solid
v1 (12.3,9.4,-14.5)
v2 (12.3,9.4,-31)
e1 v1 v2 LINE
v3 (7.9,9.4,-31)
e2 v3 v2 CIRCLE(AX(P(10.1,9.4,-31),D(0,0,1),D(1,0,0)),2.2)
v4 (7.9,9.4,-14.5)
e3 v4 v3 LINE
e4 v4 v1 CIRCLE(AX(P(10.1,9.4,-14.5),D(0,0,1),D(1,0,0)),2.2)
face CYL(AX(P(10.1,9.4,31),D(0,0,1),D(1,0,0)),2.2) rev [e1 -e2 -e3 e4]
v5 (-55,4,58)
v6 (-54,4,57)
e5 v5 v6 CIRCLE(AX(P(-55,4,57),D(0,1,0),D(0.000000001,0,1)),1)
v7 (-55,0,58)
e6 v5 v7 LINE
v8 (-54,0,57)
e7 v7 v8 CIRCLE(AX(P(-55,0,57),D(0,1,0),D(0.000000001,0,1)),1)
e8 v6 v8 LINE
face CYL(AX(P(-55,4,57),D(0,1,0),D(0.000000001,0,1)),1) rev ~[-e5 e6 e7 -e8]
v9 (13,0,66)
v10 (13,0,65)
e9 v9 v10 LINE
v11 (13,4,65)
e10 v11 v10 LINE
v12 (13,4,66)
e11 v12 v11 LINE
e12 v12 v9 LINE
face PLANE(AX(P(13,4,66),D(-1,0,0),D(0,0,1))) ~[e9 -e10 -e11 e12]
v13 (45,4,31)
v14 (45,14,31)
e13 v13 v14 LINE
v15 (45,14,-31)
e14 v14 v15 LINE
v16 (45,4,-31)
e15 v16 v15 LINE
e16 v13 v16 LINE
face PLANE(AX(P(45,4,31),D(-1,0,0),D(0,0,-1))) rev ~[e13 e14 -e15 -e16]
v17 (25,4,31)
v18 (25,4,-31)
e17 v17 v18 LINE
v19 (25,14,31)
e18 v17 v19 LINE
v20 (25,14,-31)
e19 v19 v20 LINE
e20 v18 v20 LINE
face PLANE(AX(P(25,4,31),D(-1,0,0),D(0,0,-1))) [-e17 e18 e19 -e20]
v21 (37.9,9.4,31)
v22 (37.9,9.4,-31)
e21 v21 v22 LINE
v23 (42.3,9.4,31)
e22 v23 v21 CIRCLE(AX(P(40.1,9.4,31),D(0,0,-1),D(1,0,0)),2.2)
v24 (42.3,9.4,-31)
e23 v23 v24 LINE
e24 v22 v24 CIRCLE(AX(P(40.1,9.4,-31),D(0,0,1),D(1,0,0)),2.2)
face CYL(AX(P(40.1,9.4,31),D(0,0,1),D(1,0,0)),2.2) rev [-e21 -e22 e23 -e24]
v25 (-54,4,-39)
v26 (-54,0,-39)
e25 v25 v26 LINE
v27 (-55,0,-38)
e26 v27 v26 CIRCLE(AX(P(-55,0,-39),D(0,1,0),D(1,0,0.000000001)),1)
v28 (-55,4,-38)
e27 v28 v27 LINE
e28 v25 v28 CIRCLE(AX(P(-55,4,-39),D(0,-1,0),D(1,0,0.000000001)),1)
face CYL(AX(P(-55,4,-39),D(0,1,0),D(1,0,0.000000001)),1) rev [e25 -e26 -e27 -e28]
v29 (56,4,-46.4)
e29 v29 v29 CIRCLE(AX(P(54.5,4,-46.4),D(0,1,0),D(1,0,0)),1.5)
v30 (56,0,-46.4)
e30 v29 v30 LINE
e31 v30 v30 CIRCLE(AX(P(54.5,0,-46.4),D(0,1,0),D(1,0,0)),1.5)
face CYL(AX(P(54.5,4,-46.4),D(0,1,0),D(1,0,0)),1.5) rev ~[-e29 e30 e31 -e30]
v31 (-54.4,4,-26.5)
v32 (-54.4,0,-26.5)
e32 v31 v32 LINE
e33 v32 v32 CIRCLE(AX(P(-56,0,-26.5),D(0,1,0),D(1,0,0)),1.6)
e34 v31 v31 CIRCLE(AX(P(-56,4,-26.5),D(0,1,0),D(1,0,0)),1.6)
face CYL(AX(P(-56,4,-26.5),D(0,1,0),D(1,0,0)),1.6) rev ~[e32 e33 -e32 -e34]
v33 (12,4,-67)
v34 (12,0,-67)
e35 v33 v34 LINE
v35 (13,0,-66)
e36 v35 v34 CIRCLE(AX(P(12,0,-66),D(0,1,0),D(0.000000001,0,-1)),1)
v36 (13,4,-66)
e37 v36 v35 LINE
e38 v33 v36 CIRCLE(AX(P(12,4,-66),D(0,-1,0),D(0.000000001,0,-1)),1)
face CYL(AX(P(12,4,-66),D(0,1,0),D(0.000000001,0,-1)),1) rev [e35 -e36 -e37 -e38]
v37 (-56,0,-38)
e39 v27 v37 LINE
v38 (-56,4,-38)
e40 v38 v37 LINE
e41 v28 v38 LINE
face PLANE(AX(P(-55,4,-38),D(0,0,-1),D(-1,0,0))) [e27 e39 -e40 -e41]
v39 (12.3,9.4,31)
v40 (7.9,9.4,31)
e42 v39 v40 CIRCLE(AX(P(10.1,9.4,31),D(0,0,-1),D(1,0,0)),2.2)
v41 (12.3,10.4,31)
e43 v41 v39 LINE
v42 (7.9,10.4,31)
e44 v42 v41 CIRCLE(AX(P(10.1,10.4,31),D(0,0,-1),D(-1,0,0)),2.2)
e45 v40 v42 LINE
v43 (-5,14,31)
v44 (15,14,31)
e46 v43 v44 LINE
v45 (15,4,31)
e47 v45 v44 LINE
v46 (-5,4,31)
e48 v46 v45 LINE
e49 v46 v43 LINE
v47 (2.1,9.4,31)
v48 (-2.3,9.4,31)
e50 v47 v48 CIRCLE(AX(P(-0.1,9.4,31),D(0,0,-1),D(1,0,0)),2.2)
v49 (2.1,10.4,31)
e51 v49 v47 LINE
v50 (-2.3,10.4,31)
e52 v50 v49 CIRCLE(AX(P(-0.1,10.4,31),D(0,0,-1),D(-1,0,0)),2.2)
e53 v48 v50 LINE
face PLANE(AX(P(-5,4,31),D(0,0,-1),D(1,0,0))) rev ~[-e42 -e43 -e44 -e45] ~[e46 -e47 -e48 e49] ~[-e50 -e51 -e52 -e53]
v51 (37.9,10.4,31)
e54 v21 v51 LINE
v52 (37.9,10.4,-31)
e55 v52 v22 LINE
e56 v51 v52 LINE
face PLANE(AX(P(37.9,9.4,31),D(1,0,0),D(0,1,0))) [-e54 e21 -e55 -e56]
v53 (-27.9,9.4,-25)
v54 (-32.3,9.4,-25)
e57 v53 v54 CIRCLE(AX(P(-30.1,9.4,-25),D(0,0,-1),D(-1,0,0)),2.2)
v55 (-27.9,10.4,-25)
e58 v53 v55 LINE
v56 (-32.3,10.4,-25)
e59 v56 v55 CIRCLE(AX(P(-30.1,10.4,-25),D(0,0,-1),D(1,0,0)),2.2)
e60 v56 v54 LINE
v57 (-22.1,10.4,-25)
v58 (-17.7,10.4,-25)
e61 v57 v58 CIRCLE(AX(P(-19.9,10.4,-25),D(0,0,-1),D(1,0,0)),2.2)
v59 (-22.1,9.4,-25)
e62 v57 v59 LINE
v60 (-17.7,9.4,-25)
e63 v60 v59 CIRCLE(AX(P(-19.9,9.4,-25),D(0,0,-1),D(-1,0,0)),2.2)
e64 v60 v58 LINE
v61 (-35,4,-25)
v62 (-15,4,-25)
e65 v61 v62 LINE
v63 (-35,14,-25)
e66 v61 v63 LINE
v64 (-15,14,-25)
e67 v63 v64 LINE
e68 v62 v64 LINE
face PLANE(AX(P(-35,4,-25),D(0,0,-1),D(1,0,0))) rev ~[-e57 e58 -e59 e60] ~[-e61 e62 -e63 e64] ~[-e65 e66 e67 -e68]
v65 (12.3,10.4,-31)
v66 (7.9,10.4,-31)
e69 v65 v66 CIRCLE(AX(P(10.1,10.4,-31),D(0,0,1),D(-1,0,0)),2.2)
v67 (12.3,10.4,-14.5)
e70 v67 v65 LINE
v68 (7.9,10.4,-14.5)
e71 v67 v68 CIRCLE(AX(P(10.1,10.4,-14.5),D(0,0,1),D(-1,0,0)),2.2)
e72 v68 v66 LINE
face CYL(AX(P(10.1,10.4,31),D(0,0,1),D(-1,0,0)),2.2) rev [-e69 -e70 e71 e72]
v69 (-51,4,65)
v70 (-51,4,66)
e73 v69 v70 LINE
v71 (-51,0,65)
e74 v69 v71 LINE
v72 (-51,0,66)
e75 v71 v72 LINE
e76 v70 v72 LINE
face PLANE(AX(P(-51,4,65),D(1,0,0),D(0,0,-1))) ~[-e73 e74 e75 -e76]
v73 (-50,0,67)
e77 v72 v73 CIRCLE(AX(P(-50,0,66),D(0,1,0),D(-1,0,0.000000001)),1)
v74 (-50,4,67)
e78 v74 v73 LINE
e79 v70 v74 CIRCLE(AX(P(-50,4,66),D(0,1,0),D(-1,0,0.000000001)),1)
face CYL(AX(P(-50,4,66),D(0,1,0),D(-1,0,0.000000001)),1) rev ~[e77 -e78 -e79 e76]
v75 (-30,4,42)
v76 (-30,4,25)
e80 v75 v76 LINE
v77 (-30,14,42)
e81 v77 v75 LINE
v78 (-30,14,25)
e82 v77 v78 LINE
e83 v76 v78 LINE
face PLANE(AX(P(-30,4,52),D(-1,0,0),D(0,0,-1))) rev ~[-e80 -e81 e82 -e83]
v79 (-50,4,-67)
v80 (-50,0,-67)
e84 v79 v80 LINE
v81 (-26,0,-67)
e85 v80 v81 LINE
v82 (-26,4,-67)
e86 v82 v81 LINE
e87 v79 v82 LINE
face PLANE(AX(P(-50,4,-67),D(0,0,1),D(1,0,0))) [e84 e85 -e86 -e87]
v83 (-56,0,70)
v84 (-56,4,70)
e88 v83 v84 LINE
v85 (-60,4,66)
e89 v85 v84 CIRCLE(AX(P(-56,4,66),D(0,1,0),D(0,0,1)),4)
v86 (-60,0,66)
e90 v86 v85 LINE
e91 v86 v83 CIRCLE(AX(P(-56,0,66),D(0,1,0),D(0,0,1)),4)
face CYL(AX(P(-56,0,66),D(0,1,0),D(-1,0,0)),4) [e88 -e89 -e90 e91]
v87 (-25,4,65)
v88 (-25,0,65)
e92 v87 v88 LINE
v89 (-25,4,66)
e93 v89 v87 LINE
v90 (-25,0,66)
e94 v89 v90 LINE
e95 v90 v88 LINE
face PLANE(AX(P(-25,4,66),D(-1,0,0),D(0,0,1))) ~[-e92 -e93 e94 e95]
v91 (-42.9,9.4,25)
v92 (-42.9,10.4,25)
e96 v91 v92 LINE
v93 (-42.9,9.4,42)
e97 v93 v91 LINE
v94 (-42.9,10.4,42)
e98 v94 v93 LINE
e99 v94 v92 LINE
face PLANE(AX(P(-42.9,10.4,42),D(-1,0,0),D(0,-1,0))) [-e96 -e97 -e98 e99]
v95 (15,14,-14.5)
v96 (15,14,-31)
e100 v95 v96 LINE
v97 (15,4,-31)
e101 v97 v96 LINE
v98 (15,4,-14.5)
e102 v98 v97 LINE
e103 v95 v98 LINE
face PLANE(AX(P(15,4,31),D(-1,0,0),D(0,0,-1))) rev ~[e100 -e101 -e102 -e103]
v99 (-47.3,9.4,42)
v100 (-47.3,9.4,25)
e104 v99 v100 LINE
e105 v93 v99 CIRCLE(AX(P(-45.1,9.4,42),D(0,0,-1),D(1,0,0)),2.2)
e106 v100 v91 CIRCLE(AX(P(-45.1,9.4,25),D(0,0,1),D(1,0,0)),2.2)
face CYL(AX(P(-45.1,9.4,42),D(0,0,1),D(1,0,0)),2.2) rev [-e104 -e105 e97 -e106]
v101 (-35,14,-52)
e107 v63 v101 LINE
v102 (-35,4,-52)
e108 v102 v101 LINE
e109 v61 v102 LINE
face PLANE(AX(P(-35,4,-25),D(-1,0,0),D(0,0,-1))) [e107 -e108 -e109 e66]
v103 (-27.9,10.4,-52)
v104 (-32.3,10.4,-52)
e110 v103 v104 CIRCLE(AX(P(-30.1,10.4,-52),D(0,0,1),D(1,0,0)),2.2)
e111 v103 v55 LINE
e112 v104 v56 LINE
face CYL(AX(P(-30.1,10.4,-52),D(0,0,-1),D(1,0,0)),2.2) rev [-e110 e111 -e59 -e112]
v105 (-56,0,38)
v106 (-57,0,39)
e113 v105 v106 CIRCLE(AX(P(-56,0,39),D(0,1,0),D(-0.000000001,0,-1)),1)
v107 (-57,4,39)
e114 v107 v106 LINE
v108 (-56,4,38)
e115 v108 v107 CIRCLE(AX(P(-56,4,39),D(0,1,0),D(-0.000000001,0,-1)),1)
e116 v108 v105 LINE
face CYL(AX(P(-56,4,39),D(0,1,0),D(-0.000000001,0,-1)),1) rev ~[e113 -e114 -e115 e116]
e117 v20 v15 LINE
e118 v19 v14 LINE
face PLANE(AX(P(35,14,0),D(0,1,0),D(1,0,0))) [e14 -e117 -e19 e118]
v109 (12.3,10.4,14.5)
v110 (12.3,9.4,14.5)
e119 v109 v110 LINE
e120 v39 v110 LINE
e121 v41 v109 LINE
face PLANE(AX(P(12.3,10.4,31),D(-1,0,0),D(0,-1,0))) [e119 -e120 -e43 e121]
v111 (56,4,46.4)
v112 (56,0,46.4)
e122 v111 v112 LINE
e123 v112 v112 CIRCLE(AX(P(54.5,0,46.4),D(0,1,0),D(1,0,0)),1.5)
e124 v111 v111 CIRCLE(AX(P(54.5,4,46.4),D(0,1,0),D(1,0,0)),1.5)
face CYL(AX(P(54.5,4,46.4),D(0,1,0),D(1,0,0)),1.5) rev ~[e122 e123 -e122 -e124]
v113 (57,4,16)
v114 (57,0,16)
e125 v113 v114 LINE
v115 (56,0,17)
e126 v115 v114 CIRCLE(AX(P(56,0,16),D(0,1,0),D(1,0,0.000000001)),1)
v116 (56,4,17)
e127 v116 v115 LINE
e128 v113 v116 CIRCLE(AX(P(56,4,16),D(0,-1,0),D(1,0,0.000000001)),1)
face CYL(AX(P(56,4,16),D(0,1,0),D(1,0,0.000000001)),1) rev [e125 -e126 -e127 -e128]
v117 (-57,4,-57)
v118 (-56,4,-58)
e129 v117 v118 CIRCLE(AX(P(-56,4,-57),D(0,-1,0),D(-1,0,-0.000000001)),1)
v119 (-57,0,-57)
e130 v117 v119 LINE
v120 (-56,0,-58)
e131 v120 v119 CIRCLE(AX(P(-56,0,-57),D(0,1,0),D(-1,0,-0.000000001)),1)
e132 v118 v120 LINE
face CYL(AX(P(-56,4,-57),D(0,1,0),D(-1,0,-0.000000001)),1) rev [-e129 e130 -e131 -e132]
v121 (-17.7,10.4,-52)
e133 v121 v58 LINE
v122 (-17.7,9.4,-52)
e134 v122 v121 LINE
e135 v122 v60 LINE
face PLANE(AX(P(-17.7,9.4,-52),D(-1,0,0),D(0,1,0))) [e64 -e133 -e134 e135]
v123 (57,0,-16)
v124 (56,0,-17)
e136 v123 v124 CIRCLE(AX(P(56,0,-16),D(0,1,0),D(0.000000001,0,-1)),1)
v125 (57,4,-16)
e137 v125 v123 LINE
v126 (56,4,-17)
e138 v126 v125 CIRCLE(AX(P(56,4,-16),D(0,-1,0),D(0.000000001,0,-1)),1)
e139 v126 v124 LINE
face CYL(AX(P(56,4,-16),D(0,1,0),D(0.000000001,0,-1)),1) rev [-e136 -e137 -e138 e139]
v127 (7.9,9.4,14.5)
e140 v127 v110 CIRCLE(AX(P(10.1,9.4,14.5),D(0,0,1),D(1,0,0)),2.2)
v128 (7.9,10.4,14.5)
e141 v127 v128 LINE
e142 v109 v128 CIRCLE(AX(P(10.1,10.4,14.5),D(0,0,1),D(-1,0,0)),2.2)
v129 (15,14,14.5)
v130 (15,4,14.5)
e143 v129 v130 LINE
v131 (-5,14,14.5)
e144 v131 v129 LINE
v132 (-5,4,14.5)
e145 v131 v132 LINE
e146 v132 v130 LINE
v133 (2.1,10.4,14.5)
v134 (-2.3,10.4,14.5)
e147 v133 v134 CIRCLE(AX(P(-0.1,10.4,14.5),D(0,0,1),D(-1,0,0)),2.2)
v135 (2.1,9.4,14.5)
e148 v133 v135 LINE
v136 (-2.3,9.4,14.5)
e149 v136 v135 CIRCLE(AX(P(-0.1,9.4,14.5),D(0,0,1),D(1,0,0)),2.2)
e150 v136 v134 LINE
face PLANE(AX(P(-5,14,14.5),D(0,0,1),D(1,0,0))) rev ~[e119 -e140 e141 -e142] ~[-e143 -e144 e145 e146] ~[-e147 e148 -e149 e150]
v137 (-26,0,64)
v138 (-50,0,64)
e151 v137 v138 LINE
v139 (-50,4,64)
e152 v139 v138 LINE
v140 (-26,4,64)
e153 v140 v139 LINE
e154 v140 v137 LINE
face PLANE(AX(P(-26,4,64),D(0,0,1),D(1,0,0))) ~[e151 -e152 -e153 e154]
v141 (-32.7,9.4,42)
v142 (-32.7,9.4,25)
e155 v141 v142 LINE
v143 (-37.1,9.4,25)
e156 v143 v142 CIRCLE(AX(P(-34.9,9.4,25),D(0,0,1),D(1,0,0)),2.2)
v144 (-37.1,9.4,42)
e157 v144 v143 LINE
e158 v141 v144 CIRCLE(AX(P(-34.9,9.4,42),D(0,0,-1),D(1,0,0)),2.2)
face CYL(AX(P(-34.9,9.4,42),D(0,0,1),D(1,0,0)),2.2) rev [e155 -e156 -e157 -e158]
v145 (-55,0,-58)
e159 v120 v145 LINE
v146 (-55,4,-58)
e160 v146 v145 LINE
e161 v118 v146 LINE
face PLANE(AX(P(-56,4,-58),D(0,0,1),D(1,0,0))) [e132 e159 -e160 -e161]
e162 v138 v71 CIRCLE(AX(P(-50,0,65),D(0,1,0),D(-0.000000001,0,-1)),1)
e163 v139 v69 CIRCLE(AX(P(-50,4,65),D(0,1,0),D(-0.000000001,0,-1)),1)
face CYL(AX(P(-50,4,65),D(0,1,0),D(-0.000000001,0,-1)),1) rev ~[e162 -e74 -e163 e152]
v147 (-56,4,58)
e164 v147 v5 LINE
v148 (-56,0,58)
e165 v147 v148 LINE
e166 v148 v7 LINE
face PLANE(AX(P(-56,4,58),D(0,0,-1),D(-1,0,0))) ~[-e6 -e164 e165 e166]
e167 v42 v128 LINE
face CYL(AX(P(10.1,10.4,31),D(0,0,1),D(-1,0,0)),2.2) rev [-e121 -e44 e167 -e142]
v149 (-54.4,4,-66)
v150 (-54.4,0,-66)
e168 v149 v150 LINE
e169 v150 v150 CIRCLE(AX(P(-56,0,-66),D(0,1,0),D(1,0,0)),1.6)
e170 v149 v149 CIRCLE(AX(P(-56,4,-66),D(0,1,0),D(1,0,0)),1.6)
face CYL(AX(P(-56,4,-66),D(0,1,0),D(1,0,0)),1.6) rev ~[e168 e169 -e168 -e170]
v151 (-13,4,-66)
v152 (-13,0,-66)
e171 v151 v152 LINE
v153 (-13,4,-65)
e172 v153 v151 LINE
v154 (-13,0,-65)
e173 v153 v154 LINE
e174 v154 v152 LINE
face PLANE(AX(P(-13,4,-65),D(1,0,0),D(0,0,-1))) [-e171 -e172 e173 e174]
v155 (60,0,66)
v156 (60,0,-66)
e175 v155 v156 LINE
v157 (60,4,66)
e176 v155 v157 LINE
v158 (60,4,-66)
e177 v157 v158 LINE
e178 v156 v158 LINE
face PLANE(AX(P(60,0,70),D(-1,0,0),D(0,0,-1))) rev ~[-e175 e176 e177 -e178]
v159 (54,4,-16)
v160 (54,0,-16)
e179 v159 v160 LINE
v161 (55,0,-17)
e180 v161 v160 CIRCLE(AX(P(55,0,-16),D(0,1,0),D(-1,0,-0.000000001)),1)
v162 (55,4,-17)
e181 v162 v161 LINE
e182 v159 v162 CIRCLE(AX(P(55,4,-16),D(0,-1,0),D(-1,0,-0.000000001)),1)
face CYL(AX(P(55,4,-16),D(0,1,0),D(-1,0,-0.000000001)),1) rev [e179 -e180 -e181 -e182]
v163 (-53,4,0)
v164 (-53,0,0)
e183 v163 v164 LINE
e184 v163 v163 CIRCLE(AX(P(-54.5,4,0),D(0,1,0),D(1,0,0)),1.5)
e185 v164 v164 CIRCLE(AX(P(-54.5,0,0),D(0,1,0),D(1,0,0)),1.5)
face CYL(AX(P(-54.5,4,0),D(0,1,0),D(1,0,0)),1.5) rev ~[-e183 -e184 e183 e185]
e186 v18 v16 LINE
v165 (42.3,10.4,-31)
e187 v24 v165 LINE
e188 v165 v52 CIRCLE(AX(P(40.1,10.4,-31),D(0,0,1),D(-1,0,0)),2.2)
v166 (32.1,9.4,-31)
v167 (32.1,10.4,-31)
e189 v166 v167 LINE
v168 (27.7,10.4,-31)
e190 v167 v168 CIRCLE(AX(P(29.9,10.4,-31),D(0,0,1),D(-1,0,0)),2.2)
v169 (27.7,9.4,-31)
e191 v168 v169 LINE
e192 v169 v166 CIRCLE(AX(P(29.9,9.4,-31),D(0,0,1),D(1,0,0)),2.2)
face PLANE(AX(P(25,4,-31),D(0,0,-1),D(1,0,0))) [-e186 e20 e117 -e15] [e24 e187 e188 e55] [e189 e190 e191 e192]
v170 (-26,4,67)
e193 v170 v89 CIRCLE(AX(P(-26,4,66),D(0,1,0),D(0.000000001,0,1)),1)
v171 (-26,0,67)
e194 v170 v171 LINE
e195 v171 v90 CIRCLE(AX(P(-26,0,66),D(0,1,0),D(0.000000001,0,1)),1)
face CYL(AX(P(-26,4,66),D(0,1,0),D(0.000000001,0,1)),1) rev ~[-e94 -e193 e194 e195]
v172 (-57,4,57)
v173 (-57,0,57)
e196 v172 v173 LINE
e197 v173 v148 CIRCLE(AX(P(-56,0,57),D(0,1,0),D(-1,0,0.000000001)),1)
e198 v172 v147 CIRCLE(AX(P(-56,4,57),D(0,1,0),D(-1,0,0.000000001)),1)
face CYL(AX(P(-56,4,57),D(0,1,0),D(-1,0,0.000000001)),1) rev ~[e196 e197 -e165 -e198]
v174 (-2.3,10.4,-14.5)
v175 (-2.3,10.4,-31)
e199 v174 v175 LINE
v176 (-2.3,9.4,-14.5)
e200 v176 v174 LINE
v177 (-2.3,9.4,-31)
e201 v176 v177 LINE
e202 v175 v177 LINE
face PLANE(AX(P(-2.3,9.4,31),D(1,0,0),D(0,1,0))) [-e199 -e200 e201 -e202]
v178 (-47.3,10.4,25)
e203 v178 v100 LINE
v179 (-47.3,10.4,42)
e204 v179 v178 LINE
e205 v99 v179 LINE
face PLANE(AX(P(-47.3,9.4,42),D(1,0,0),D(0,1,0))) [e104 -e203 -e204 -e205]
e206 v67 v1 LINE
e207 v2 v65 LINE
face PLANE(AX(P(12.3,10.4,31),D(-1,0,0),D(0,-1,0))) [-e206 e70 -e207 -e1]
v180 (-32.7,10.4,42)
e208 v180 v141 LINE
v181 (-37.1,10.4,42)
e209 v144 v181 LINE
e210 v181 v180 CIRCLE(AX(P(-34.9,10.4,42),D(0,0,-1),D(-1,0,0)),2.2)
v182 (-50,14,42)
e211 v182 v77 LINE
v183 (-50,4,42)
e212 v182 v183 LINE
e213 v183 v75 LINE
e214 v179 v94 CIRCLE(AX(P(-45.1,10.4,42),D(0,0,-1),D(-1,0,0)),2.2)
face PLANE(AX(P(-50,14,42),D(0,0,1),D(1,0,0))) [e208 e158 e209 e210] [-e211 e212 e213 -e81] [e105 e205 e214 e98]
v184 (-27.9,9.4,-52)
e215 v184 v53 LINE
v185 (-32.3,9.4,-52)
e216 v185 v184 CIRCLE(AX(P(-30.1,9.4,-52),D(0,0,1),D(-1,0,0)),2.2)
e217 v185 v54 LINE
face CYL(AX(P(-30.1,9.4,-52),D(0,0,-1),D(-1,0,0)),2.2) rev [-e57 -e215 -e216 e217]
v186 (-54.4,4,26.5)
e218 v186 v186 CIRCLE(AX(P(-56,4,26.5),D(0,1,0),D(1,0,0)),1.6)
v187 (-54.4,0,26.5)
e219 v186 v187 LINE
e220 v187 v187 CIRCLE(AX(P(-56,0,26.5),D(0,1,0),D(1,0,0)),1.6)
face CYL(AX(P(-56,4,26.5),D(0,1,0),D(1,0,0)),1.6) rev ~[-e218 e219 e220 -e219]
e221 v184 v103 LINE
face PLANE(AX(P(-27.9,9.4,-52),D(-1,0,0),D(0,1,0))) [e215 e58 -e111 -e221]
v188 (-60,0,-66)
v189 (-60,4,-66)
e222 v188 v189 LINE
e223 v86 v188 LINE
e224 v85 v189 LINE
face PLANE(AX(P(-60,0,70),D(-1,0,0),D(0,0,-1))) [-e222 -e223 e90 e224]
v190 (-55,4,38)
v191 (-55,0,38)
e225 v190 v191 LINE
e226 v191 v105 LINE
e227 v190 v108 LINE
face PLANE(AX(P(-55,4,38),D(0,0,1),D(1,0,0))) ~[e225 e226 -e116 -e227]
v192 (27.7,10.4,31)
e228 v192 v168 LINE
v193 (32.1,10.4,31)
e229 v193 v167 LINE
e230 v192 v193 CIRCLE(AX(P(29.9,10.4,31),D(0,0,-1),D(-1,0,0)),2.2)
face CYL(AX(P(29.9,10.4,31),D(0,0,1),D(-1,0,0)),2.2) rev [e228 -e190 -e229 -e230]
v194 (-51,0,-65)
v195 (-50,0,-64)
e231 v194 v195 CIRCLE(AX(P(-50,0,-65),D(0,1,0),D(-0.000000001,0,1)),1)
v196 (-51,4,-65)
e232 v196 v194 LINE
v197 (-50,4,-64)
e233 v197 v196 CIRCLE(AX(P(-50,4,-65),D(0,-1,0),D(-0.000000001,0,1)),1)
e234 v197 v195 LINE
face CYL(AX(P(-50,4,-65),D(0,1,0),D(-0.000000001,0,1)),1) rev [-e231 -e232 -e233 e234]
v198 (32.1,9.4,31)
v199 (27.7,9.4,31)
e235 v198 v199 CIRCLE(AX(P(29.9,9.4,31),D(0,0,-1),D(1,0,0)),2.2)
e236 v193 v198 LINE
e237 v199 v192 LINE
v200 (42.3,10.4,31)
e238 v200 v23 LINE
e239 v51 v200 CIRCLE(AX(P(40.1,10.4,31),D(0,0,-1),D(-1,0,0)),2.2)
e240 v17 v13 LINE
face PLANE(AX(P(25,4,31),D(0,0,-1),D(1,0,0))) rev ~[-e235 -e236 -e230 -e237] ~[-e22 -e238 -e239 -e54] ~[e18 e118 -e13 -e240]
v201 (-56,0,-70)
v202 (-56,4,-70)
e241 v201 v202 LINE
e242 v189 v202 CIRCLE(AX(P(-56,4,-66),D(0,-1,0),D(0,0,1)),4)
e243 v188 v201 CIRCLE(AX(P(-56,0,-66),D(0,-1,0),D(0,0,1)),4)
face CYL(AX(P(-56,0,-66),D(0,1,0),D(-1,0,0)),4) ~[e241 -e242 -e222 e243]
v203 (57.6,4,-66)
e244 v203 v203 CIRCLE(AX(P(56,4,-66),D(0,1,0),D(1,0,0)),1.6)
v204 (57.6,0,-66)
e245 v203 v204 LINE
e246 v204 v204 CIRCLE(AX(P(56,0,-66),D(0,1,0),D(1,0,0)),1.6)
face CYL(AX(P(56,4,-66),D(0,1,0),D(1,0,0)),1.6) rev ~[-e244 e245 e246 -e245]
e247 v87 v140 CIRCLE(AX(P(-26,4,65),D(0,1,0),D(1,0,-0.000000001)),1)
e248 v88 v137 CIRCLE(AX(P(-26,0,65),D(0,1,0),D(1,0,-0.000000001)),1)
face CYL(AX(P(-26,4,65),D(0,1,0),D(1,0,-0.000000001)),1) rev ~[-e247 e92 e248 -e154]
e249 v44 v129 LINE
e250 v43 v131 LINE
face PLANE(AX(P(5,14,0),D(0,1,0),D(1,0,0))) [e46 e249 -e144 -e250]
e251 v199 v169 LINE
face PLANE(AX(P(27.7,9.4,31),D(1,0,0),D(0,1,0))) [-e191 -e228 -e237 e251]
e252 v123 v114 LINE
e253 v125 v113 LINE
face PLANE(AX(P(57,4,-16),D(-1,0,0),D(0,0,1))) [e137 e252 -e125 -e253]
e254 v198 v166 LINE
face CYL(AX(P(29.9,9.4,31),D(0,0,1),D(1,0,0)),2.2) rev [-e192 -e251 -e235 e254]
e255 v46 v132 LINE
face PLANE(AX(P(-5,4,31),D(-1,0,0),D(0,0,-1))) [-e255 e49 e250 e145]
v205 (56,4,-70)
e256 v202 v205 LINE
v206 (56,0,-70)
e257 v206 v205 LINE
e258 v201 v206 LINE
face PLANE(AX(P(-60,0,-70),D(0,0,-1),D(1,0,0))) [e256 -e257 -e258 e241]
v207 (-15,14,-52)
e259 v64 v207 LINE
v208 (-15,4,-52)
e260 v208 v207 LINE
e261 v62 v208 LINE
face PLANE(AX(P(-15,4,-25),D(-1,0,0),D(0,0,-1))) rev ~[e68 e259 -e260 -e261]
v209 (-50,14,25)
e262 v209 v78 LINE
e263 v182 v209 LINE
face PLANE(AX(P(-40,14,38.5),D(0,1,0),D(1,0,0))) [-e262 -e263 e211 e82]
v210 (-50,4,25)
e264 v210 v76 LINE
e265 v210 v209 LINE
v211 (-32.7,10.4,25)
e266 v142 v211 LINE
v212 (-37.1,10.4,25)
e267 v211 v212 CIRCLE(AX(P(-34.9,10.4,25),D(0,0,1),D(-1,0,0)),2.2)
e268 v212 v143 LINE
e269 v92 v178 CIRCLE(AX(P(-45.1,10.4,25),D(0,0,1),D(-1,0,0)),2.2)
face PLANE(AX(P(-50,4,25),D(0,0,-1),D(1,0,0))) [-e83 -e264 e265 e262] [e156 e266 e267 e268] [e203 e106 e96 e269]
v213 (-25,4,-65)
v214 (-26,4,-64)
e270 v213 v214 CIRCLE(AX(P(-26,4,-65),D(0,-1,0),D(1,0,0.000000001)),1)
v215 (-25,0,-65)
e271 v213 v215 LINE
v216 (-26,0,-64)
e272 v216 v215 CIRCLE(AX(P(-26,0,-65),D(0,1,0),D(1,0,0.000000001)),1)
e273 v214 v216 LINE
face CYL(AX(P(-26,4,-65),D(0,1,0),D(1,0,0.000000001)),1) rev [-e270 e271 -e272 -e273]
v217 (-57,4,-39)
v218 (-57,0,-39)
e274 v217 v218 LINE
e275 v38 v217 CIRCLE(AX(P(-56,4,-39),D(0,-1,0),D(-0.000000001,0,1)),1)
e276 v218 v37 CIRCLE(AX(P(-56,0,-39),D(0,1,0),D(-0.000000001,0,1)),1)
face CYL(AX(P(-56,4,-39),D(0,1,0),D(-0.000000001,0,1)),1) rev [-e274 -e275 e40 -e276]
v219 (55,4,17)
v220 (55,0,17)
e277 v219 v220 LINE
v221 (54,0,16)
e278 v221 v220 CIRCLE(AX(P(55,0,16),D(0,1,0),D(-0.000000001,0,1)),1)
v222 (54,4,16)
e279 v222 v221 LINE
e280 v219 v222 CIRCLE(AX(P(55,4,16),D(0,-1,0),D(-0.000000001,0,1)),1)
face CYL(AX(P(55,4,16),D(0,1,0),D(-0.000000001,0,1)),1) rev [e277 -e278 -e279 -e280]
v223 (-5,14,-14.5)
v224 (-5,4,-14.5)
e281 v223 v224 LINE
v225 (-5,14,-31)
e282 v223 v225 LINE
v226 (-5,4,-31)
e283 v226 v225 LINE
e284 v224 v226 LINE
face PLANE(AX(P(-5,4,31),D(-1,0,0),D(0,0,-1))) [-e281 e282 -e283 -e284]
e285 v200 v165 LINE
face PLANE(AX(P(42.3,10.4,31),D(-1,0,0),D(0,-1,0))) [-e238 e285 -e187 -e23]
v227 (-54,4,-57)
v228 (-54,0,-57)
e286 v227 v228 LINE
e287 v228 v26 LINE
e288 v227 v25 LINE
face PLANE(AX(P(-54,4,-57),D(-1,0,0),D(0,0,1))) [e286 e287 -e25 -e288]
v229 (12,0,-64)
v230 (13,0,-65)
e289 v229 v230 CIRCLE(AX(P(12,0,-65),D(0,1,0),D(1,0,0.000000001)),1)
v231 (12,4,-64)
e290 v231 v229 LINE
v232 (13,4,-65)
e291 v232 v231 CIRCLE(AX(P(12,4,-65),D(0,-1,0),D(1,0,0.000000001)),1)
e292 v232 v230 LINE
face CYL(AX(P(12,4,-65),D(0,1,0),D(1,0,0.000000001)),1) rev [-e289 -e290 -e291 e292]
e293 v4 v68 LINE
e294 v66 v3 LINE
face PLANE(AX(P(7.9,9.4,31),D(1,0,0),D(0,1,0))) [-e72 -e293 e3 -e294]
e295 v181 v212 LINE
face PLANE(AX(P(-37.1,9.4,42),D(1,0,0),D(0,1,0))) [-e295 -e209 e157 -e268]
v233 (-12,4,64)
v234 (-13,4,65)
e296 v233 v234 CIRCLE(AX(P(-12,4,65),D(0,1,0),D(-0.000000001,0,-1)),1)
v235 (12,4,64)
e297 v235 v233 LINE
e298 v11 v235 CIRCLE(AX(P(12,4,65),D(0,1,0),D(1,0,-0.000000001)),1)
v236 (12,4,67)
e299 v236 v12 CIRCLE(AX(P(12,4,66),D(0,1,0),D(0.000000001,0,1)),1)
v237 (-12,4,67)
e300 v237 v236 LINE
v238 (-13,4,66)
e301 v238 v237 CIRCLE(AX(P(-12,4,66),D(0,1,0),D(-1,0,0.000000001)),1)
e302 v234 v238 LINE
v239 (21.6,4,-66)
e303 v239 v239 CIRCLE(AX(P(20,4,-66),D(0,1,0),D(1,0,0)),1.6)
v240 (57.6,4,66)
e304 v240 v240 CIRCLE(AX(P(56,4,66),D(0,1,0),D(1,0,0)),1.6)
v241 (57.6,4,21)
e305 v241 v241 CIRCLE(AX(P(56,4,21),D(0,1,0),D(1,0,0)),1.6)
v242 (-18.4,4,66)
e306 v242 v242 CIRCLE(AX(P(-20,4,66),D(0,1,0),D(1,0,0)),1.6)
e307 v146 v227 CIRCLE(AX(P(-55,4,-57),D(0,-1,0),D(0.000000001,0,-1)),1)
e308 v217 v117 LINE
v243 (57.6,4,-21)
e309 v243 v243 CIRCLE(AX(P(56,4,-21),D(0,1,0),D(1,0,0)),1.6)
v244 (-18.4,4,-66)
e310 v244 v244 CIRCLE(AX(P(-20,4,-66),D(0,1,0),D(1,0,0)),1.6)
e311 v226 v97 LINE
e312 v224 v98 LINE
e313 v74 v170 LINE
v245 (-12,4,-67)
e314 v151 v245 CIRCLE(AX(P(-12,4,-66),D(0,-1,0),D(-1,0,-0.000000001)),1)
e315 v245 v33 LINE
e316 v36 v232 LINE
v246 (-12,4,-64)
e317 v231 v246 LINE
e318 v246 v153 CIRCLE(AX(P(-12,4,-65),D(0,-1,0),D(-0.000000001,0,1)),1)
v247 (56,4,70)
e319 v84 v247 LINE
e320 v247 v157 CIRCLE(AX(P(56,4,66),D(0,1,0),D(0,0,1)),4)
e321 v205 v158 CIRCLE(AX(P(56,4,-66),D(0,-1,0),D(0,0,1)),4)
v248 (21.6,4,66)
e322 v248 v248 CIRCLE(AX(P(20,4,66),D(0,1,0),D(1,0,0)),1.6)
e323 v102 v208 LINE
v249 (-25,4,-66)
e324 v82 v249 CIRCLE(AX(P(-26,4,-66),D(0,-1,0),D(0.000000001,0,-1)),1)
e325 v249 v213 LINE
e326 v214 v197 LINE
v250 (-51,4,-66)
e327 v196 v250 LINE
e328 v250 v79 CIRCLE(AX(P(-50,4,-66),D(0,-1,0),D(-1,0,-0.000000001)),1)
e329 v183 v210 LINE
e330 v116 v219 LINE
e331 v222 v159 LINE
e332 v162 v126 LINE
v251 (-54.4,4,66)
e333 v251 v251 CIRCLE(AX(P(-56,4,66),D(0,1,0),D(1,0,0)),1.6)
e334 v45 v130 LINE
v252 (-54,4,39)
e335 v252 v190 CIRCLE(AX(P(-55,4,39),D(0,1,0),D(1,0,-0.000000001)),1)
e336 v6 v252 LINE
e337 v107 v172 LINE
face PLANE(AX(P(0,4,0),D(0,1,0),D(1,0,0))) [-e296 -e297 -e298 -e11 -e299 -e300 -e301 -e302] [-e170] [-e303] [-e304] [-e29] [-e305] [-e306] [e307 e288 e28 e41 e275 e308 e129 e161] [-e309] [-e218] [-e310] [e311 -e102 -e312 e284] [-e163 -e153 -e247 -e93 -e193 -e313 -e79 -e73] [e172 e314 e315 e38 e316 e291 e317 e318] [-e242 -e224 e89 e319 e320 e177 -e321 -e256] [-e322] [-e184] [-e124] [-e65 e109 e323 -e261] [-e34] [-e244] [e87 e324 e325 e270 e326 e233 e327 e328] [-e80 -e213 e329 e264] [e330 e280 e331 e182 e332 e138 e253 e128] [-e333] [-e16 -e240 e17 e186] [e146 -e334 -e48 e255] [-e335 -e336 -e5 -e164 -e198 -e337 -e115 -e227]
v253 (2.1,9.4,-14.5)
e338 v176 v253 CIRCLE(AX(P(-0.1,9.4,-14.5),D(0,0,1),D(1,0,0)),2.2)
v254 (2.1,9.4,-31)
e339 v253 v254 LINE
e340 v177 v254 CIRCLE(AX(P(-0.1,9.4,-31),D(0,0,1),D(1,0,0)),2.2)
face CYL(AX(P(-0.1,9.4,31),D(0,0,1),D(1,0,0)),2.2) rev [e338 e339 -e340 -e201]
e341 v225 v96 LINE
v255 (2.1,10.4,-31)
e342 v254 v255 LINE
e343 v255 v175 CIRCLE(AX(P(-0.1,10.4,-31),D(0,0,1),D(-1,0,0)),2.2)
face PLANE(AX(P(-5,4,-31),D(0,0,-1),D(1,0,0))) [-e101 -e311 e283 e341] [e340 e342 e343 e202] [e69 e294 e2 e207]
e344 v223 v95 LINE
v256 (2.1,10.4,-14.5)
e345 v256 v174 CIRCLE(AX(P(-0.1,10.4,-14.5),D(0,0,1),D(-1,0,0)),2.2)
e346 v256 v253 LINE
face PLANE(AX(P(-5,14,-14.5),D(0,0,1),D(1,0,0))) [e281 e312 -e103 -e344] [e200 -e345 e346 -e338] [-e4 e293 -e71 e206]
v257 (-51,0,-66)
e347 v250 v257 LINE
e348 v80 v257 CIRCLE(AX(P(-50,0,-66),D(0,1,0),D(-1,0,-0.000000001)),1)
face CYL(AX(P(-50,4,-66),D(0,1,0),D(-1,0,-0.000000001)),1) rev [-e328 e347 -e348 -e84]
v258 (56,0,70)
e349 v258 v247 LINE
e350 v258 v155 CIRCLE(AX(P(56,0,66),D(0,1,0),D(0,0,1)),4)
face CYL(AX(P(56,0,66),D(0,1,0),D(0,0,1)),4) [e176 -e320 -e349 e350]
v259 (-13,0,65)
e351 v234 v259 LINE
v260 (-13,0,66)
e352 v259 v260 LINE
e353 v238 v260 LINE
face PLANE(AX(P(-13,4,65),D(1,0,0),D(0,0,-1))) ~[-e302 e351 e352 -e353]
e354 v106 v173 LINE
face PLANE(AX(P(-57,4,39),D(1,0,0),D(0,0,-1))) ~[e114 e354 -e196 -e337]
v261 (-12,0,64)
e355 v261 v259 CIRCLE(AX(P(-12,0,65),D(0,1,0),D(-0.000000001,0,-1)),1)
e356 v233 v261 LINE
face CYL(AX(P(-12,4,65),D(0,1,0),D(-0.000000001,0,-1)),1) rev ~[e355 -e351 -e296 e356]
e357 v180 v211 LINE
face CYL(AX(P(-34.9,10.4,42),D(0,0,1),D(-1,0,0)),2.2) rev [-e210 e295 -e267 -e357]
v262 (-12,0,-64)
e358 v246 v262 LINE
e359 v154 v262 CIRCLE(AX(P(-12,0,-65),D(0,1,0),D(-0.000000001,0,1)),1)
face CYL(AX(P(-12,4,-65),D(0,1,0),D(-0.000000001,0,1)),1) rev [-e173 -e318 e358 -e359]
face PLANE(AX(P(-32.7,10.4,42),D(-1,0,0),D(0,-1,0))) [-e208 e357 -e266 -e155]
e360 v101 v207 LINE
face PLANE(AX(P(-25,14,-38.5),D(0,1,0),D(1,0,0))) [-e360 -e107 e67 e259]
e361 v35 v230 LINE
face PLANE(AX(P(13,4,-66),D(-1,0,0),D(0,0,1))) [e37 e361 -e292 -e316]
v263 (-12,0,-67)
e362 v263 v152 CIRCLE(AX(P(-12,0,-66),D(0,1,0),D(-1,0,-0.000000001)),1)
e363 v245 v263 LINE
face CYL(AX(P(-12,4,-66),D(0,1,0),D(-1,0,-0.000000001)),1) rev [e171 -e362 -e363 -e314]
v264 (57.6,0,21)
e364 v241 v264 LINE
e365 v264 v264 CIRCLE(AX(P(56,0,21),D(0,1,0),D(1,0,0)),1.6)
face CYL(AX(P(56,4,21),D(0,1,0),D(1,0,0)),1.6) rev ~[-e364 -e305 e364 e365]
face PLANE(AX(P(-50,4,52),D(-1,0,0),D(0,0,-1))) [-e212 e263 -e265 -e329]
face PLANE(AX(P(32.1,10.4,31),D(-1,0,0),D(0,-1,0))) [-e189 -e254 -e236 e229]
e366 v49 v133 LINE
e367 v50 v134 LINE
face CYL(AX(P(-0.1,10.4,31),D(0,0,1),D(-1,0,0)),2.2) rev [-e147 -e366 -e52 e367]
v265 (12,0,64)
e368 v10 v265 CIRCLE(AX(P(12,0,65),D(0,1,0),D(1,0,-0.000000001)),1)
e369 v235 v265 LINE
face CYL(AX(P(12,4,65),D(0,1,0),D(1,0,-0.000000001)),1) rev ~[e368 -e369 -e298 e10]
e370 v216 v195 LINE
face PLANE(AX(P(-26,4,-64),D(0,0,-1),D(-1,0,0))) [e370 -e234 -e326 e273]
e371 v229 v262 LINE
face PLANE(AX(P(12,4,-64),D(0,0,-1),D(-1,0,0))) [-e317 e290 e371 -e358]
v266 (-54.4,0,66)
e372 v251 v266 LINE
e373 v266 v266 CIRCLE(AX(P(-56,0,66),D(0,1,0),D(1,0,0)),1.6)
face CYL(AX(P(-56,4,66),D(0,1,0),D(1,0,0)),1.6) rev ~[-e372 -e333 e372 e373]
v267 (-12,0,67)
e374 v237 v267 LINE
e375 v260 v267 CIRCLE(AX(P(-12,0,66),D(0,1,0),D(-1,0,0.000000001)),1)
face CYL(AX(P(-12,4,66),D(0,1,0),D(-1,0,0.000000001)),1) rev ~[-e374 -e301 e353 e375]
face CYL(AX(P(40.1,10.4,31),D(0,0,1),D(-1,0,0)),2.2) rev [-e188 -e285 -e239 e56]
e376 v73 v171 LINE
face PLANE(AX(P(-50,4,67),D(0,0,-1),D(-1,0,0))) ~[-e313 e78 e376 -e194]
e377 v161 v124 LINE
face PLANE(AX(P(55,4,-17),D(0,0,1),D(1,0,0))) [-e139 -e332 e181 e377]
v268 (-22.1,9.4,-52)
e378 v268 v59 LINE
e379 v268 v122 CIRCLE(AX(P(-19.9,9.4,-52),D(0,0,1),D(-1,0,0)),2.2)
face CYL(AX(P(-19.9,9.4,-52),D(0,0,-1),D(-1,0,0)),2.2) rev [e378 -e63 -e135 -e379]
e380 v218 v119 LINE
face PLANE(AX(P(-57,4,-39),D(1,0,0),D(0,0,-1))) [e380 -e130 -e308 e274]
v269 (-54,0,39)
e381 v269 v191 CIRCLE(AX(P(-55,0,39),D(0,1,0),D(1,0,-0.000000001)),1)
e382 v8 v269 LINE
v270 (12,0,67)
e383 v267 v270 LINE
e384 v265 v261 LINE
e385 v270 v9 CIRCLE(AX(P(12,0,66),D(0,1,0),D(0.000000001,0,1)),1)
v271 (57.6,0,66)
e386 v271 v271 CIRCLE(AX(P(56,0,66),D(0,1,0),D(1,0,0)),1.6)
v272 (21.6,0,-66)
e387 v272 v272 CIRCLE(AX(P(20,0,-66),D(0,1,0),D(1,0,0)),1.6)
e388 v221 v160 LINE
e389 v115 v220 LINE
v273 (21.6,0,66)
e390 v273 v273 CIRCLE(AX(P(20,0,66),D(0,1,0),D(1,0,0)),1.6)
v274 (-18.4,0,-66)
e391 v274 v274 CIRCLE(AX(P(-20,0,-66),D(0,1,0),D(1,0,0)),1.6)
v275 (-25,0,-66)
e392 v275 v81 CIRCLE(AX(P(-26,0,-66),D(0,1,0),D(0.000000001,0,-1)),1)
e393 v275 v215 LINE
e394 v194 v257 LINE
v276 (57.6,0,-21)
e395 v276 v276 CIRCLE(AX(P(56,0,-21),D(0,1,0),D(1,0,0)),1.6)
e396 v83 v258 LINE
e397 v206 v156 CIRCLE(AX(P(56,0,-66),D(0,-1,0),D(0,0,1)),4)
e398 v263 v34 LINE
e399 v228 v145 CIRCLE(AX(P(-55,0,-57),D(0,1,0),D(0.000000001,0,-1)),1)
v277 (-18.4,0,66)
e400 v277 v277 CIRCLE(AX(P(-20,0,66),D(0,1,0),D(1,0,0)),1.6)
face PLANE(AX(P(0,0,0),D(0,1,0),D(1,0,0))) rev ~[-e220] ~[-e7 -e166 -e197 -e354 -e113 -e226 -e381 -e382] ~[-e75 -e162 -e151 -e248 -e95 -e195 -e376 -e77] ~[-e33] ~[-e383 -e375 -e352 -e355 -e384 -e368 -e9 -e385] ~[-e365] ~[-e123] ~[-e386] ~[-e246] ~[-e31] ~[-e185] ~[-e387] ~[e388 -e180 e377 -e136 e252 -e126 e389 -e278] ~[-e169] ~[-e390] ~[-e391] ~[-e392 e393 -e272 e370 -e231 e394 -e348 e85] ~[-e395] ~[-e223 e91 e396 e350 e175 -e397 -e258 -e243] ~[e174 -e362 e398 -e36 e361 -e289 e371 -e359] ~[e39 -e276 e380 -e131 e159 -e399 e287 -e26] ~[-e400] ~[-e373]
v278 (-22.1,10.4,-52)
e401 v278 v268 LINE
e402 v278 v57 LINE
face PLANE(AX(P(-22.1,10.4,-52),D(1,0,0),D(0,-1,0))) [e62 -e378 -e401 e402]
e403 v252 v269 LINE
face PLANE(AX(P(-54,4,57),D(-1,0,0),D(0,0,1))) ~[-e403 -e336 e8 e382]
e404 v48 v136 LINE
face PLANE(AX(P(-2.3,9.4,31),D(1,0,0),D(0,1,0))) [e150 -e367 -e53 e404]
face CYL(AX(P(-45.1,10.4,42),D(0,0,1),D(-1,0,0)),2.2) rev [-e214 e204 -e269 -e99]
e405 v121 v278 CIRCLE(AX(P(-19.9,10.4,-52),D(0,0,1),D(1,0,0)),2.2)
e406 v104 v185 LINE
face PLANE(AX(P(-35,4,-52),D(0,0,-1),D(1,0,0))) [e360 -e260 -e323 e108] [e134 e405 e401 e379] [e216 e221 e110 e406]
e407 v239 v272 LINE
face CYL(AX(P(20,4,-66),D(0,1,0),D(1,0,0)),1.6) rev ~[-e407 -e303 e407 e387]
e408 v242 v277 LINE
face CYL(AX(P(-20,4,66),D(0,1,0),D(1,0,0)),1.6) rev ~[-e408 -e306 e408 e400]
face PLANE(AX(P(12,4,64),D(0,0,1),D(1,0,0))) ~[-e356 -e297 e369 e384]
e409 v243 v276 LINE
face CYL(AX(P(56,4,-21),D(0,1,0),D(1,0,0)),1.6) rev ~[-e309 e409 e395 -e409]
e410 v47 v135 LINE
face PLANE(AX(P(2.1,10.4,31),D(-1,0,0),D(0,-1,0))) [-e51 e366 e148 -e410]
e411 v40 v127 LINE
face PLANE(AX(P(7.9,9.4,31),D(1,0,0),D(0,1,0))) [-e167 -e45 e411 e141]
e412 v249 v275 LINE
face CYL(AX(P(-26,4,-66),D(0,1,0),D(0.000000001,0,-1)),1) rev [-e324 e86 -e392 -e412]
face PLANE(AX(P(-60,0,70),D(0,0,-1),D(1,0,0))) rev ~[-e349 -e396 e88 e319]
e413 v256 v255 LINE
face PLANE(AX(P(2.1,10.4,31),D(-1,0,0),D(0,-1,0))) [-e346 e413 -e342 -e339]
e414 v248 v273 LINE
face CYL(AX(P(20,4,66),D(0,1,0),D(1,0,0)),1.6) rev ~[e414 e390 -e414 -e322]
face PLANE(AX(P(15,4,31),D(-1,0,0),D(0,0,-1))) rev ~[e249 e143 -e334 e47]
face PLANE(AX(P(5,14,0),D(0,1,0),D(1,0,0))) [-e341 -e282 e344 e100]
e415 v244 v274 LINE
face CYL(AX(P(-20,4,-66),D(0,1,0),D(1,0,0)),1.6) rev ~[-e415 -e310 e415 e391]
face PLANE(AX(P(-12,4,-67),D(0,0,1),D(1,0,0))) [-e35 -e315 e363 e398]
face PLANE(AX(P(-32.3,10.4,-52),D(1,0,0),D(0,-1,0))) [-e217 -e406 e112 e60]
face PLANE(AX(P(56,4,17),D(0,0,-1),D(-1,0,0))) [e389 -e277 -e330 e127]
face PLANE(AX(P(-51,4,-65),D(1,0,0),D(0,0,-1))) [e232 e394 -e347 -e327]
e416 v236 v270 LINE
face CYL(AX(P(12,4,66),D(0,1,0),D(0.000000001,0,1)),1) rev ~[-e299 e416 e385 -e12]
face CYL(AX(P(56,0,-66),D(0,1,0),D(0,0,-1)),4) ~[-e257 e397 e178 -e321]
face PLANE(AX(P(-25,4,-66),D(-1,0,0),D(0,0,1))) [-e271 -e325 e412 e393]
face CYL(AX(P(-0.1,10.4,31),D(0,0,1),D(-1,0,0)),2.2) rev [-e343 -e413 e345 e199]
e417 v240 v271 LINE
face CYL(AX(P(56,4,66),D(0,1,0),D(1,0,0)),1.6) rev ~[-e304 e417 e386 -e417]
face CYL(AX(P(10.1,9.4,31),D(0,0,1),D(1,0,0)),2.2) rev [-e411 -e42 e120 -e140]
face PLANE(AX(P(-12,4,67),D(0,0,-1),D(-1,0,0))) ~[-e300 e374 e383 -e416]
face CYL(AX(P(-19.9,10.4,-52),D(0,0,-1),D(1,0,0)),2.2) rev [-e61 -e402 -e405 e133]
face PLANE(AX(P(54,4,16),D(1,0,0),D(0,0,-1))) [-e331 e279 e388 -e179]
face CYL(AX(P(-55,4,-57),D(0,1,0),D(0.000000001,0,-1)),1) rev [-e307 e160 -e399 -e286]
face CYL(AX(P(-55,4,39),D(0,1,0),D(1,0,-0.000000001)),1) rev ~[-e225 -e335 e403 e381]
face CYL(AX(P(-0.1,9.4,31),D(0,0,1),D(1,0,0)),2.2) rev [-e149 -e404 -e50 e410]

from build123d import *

# Parameters (mm, degrees)
SKETCH1_W               = 120
SKETCH1_H               = 140
BOSS_EXTRUDE1_DEPTH     = 4
SKETCH2_R               = 1.6
CUT_EXTRUDE1_DEPTH      = 4
FILLET1_R               = 4
SKETCH5_W               = 20
SKETCH5_H               = 62
SKETCH5_H_2             = 27
BOSS_EXTRUDE2_DEPTH     = 10
SKETCH6_W               = 20
SKETCH6_H               = 10
SKETCH6_H_2             = 29
CUT_EXTRUDE3_DEPTH      = 10
CUT_EXTRUDE4_DEPTH      = 40
CUT_EXTRUDE4_DEPTH_BACK = 102
CUT_EXTRUDE5_DEPTH      = 20
CUT_EXTRUDE6_DEPTH      = 30
CUT_EXTRUDE7_DEPTH      = 5
SKETCH11_R              = 1.5
CUT_EXTRUDE8_DEPTH      = 5


with BuildPart() as part:
    # Sketch1 → Boss-Extrude1 (new body)
    with BuildSketch(Plane(origin=(0, 0, 0), x_dir=(1, 0, 0), z_dir=(0, 1, 0))):
        Rectangle(SKETCH1_W, SKETCH1_H)
    extrude(amount=BOSS_EXTRUDE1_DEPTH)

    # Sketch2 → Cut-Extrude1 (cut)
    with BuildSketch(Plane(origin=(0, 4, 0), x_dir=(1, 0, 0), z_dir=(0, 1, 0))):
        with Locations((-56, 66)):
            Circle(SKETCH2_R)
        with Locations((56, 66)):
            Circle(SKETCH2_R)
        with Locations((-56, -66)):
            Circle(SKETCH2_R)
        with Locations((56, -66)):
            Circle(SKETCH2_R)
        with Locations((-20, -66)):
            Circle(SKETCH2_R)
        with Locations((20, -66)):
            Circle(SKETCH2_R)
        with Locations((-20, 66)):
            Circle(SKETCH2_R)
        with Locations((20, 66)):
            Circle(SKETCH2_R)
        with Locations((-56, -26.5)):
            Circle(SKETCH2_R)
        with Locations((-56, 26.5)):
            Circle(SKETCH2_R)
        with Locations((56, -21)):
            Circle(SKETCH2_R)
        with Locations((56, 21)):
            Circle(SKETCH2_R)
    extrude(amount=-CUT_EXTRUDE1_DEPTH, mode=Mode.SUBTRACT)

    # Fillet1
    fillet1_edges = [part.edges().sort_by_distance(p)[0] for p in [
        (60, 2, 70),
        (-60, 2, 70),
        (-60, 2, -70),
        (60, 2, -70),
    ]]
    fillet(fillet1_edges, radius=FILLET1_R)

    # Sketch5 → Boss-Extrude2 (add)
    with BuildSketch(Plane(origin=(0, 4, 0), x_dir=(1, 0, 0), z_dir=(0, 1, 0))):
        with Locations((35, 0)):
            Rectangle(SKETCH5_W, SKETCH5_H)
        with Locations((-25, 38.5)):
            Rectangle(SKETCH5_W, SKETCH5_H_2)
        with Locations((5, 0)):
            Rectangle(SKETCH5_W, SKETCH5_H)
        with Locations((-40, -38.5)):
            Rectangle(SKETCH5_W, SKETCH5_H_2)
    extrude(amount=BOSS_EXTRUDE2_DEPTH)

    # Sketch6 → Cut-Extrude3 (cut)
    with BuildSketch(Plane(origin=(0, 14, 0), x_dir=(1, 0, 0), z_dir=(0, 1, 0))):
        with Locations((-40, -47)):
            Rectangle(SKETCH6_W, SKETCH6_H)
        with Locations((5, 0)):
            Rectangle(SKETCH6_W, SKETCH6_H_2)
    extrude(amount=-CUT_EXTRUDE3_DEPTH, mode=Mode.SUBTRACT)

    # Sketch7 → Cut-Extrude4 (cut, two sides)
    with BuildSketch(Plane.XY.offset(31)) as cut_extrude4_sk:
        with BuildLine():
            Line((-2.3, 9.4), (-2.3, 10.4))
            ThreePointArc((-2.3, 10.4), (-0.1, 12.6), (2.1, 10.4))
            Line((2.1, 10.4), (2.1, 9.4))
            ThreePointArc((2.1, 9.4), (-0.1, 7.2), (-2.3, 9.4))
        make_face()
        with BuildLine():
            Line((7.9, 9.4), (7.9, 10.4))
            ThreePointArc((7.9, 10.4), (10.1, 12.6), (12.3, 10.4))
            Line((12.3, 10.4), (12.3, 9.4))
            ThreePointArc((12.3, 9.4), (10.1, 7.2), (7.9, 9.4))
        make_face()
        with BuildLine():
            Line((27.7, 9.4), (27.7, 10.4))
            ThreePointArc((27.7, 10.4), (29.9, 12.6), (32.1, 10.4))
            Line((32.1, 10.4), (32.1, 9.4))
            ThreePointArc((32.1, 9.4), (29.9, 7.2), (27.7, 9.4))
        make_face()
        with BuildLine():
            Line((37.9, 9.4), (37.9, 10.4))
            ThreePointArc((37.9, 10.4), (40.1, 12.6), (42.3, 10.4))
            Line((42.3, 10.4), (42.3, 9.4))
            ThreePointArc((42.3, 9.4), (40.1, 7.2), (37.9, 9.4))
        make_face()
    extrude(amount=CUT_EXTRUDE4_DEPTH, mode=Mode.SUBTRACT)
    extrude(cut_extrude4_sk.sketch, amount=-CUT_EXTRUDE4_DEPTH_BACK, mode=Mode.SUBTRACT)

    # Sketch8 → Cut-Extrude5 (cut)
    with BuildSketch(Plane.XY.offset(42)):
        with BuildLine():
            Line((-47.3, 9.4), (-47.3, 10.4))
            ThreePointArc((-47.3, 10.4), (-45.1, 12.6), (-42.9, 10.4))
            Line((-42.9, 10.4), (-42.9, 9.4))
            ThreePointArc((-42.9, 9.4), (-45.1, 7.2), (-47.3, 9.4))
        make_face()
        with BuildLine():
            Line((-37.1, 9.4), (-37.1, 10.4))
            ThreePointArc((-37.1, 10.4), (-34.9, 12.6), (-32.7, 10.4))
            Line((-32.7, 10.4), (-32.7, 9.4))
            ThreePointArc((-32.7, 9.4), (-34.9, 7.2), (-37.1, 9.4))
        make_face()
    extrude(amount=-CUT_EXTRUDE5_DEPTH, mode=Mode.SUBTRACT)

    # Sketch9 → Cut-Extrude6 (cut)
    with BuildSketch(Plane(origin=(0, 0, -52), x_dir=(-1, 0, 0), z_dir=(0, 0, -1))):
        with BuildLine():
            Line((17.7, 9.4), (17.7, 10.4))
            ThreePointArc((17.7, 10.4), (19.9, 12.6), (22.1, 10.4))
            Line((22.1, 10.4), (22.1, 9.4))
            ThreePointArc((22.1, 9.4), (19.9, 7.2), (17.7, 9.4))
        make_face()
        with BuildLine():
            Line((27.9, 9.4), (27.9, 10.4))
            ThreePointArc((27.9, 10.4), (30.1, 12.6), (32.3, 10.4))
            Line((32.3, 10.4), (32.3, 9.4))
            ThreePointArc((32.3, 9.4), (30.1, 7.2), (27.9, 9.4))
        make_face()
    extrude(amount=-CUT_EXTRUDE6_DEPTH, mode=Mode.SUBTRACT)

    # Sketch10 → Cut-Extrude7 (cut, through all)
    with BuildSketch(Plane(origin=(0, 4, 0), x_dir=(1, 0, 0), z_dir=(0, 1, 0))):
        with BuildLine():
            Line((-56, 58), (-55, 58))
            ThreePointArc((-55, 58), (-54.292893219, 57.707106781), (-54, 57))
            Line((-54, 57), (-54, 39))
            ThreePointArc((-54, 39), (-54.292893219, 38.292893219), (-55, 38))
            Line((-55, 38), (-56, 38))
            ThreePointArc((-56, 38), (-56.707106781, 38.292893219), (-57, 39))
            Line((-57, 39), (-57, 57))
            ThreePointArc((-57, 57), (-56.707106781, 57.707106781), (-56, 58))
        make_face()
        with BuildLine():
            Line((-50, 67), (-26, 67))
            ThreePointArc((-26, 67), (-25.292893219, 66.707106781), (-25, 66))
            Line((-25, 66), (-25, 65))
            ThreePointArc((-25, 65), (-25.292893219, 64.292893219), (-26, 64))
            Line((-26, 64), (-50, 64))
            ThreePointArc((-50, 64), (-50.707106781, 64.292893219), (-51, 65))
            Line((-51, 65), (-51, 66))
            ThreePointArc((-51, 66), (-50.707106781, 66.707106781), (-50, 67))
        make_face()
        with BuildLine():
            Line((-12, 67), (12, 67))
            ThreePointArc((12, 67), (12.707106781, 66.707106781), (13, 66))
            Line((13, 66), (13, 65))
            ThreePointArc((13, 65), (12.707106781, 64.292893219), (12, 64))
            Line((12, 64), (-12, 64))
            ThreePointArc((-12, 64), (-12.707106781, 64.292893219), (-13, 65))
            Line((-13, 65), (-13, 66))
            ThreePointArc((-13, 66), (-12.707106781, 66.707106781), (-12, 67))
        make_face()
        with BuildLine():
            Line((55, 17), (56, 17))
            ThreePointArc((56, 17), (56.707106781, 16.707106781), (57, 16))
            Line((57, 16), (57, -16))
            ThreePointArc((57, -16), (56.707106781, -16.707106781), (56, -17))
            Line((56, -17), (55, -17))
            ThreePointArc((55, -17), (54.292893219, -16.707106781), (54, -16))
            Line((54, -16), (54, 16))
            ThreePointArc((54, 16), (54.292893219, 16.707106781), (55, 17))
        make_face()
    cut_extrude7 = extrude(amount=-CUT_EXTRUDE7_DEPTH, mode=Mode.SUBTRACT)

    # Mirror1: Cut-Extrude7 across plane
    add(cut_extrude7.mirror(Plane.XY), mode=Mode.SUBTRACT)

    # Sketch11 → Cut-Extrude8 (cut, through all)
    with BuildSketch(Plane(origin=(0, 4, 0), x_dir=(1, 0, 0), z_dir=(0, 1, 0))):
        with Locations((-54.5, 0)):
            Circle(SKETCH11_R)
        with Locations((54.5, -46.4)):
            Circle(SKETCH11_R)
        with Locations((54.5, 46.4)):
            Circle(SKETCH11_R)
    extrude(amount=-CUT_EXTRUDE8_DEPTH, mode=Mode.SUBTRACT)


solid = part.part
